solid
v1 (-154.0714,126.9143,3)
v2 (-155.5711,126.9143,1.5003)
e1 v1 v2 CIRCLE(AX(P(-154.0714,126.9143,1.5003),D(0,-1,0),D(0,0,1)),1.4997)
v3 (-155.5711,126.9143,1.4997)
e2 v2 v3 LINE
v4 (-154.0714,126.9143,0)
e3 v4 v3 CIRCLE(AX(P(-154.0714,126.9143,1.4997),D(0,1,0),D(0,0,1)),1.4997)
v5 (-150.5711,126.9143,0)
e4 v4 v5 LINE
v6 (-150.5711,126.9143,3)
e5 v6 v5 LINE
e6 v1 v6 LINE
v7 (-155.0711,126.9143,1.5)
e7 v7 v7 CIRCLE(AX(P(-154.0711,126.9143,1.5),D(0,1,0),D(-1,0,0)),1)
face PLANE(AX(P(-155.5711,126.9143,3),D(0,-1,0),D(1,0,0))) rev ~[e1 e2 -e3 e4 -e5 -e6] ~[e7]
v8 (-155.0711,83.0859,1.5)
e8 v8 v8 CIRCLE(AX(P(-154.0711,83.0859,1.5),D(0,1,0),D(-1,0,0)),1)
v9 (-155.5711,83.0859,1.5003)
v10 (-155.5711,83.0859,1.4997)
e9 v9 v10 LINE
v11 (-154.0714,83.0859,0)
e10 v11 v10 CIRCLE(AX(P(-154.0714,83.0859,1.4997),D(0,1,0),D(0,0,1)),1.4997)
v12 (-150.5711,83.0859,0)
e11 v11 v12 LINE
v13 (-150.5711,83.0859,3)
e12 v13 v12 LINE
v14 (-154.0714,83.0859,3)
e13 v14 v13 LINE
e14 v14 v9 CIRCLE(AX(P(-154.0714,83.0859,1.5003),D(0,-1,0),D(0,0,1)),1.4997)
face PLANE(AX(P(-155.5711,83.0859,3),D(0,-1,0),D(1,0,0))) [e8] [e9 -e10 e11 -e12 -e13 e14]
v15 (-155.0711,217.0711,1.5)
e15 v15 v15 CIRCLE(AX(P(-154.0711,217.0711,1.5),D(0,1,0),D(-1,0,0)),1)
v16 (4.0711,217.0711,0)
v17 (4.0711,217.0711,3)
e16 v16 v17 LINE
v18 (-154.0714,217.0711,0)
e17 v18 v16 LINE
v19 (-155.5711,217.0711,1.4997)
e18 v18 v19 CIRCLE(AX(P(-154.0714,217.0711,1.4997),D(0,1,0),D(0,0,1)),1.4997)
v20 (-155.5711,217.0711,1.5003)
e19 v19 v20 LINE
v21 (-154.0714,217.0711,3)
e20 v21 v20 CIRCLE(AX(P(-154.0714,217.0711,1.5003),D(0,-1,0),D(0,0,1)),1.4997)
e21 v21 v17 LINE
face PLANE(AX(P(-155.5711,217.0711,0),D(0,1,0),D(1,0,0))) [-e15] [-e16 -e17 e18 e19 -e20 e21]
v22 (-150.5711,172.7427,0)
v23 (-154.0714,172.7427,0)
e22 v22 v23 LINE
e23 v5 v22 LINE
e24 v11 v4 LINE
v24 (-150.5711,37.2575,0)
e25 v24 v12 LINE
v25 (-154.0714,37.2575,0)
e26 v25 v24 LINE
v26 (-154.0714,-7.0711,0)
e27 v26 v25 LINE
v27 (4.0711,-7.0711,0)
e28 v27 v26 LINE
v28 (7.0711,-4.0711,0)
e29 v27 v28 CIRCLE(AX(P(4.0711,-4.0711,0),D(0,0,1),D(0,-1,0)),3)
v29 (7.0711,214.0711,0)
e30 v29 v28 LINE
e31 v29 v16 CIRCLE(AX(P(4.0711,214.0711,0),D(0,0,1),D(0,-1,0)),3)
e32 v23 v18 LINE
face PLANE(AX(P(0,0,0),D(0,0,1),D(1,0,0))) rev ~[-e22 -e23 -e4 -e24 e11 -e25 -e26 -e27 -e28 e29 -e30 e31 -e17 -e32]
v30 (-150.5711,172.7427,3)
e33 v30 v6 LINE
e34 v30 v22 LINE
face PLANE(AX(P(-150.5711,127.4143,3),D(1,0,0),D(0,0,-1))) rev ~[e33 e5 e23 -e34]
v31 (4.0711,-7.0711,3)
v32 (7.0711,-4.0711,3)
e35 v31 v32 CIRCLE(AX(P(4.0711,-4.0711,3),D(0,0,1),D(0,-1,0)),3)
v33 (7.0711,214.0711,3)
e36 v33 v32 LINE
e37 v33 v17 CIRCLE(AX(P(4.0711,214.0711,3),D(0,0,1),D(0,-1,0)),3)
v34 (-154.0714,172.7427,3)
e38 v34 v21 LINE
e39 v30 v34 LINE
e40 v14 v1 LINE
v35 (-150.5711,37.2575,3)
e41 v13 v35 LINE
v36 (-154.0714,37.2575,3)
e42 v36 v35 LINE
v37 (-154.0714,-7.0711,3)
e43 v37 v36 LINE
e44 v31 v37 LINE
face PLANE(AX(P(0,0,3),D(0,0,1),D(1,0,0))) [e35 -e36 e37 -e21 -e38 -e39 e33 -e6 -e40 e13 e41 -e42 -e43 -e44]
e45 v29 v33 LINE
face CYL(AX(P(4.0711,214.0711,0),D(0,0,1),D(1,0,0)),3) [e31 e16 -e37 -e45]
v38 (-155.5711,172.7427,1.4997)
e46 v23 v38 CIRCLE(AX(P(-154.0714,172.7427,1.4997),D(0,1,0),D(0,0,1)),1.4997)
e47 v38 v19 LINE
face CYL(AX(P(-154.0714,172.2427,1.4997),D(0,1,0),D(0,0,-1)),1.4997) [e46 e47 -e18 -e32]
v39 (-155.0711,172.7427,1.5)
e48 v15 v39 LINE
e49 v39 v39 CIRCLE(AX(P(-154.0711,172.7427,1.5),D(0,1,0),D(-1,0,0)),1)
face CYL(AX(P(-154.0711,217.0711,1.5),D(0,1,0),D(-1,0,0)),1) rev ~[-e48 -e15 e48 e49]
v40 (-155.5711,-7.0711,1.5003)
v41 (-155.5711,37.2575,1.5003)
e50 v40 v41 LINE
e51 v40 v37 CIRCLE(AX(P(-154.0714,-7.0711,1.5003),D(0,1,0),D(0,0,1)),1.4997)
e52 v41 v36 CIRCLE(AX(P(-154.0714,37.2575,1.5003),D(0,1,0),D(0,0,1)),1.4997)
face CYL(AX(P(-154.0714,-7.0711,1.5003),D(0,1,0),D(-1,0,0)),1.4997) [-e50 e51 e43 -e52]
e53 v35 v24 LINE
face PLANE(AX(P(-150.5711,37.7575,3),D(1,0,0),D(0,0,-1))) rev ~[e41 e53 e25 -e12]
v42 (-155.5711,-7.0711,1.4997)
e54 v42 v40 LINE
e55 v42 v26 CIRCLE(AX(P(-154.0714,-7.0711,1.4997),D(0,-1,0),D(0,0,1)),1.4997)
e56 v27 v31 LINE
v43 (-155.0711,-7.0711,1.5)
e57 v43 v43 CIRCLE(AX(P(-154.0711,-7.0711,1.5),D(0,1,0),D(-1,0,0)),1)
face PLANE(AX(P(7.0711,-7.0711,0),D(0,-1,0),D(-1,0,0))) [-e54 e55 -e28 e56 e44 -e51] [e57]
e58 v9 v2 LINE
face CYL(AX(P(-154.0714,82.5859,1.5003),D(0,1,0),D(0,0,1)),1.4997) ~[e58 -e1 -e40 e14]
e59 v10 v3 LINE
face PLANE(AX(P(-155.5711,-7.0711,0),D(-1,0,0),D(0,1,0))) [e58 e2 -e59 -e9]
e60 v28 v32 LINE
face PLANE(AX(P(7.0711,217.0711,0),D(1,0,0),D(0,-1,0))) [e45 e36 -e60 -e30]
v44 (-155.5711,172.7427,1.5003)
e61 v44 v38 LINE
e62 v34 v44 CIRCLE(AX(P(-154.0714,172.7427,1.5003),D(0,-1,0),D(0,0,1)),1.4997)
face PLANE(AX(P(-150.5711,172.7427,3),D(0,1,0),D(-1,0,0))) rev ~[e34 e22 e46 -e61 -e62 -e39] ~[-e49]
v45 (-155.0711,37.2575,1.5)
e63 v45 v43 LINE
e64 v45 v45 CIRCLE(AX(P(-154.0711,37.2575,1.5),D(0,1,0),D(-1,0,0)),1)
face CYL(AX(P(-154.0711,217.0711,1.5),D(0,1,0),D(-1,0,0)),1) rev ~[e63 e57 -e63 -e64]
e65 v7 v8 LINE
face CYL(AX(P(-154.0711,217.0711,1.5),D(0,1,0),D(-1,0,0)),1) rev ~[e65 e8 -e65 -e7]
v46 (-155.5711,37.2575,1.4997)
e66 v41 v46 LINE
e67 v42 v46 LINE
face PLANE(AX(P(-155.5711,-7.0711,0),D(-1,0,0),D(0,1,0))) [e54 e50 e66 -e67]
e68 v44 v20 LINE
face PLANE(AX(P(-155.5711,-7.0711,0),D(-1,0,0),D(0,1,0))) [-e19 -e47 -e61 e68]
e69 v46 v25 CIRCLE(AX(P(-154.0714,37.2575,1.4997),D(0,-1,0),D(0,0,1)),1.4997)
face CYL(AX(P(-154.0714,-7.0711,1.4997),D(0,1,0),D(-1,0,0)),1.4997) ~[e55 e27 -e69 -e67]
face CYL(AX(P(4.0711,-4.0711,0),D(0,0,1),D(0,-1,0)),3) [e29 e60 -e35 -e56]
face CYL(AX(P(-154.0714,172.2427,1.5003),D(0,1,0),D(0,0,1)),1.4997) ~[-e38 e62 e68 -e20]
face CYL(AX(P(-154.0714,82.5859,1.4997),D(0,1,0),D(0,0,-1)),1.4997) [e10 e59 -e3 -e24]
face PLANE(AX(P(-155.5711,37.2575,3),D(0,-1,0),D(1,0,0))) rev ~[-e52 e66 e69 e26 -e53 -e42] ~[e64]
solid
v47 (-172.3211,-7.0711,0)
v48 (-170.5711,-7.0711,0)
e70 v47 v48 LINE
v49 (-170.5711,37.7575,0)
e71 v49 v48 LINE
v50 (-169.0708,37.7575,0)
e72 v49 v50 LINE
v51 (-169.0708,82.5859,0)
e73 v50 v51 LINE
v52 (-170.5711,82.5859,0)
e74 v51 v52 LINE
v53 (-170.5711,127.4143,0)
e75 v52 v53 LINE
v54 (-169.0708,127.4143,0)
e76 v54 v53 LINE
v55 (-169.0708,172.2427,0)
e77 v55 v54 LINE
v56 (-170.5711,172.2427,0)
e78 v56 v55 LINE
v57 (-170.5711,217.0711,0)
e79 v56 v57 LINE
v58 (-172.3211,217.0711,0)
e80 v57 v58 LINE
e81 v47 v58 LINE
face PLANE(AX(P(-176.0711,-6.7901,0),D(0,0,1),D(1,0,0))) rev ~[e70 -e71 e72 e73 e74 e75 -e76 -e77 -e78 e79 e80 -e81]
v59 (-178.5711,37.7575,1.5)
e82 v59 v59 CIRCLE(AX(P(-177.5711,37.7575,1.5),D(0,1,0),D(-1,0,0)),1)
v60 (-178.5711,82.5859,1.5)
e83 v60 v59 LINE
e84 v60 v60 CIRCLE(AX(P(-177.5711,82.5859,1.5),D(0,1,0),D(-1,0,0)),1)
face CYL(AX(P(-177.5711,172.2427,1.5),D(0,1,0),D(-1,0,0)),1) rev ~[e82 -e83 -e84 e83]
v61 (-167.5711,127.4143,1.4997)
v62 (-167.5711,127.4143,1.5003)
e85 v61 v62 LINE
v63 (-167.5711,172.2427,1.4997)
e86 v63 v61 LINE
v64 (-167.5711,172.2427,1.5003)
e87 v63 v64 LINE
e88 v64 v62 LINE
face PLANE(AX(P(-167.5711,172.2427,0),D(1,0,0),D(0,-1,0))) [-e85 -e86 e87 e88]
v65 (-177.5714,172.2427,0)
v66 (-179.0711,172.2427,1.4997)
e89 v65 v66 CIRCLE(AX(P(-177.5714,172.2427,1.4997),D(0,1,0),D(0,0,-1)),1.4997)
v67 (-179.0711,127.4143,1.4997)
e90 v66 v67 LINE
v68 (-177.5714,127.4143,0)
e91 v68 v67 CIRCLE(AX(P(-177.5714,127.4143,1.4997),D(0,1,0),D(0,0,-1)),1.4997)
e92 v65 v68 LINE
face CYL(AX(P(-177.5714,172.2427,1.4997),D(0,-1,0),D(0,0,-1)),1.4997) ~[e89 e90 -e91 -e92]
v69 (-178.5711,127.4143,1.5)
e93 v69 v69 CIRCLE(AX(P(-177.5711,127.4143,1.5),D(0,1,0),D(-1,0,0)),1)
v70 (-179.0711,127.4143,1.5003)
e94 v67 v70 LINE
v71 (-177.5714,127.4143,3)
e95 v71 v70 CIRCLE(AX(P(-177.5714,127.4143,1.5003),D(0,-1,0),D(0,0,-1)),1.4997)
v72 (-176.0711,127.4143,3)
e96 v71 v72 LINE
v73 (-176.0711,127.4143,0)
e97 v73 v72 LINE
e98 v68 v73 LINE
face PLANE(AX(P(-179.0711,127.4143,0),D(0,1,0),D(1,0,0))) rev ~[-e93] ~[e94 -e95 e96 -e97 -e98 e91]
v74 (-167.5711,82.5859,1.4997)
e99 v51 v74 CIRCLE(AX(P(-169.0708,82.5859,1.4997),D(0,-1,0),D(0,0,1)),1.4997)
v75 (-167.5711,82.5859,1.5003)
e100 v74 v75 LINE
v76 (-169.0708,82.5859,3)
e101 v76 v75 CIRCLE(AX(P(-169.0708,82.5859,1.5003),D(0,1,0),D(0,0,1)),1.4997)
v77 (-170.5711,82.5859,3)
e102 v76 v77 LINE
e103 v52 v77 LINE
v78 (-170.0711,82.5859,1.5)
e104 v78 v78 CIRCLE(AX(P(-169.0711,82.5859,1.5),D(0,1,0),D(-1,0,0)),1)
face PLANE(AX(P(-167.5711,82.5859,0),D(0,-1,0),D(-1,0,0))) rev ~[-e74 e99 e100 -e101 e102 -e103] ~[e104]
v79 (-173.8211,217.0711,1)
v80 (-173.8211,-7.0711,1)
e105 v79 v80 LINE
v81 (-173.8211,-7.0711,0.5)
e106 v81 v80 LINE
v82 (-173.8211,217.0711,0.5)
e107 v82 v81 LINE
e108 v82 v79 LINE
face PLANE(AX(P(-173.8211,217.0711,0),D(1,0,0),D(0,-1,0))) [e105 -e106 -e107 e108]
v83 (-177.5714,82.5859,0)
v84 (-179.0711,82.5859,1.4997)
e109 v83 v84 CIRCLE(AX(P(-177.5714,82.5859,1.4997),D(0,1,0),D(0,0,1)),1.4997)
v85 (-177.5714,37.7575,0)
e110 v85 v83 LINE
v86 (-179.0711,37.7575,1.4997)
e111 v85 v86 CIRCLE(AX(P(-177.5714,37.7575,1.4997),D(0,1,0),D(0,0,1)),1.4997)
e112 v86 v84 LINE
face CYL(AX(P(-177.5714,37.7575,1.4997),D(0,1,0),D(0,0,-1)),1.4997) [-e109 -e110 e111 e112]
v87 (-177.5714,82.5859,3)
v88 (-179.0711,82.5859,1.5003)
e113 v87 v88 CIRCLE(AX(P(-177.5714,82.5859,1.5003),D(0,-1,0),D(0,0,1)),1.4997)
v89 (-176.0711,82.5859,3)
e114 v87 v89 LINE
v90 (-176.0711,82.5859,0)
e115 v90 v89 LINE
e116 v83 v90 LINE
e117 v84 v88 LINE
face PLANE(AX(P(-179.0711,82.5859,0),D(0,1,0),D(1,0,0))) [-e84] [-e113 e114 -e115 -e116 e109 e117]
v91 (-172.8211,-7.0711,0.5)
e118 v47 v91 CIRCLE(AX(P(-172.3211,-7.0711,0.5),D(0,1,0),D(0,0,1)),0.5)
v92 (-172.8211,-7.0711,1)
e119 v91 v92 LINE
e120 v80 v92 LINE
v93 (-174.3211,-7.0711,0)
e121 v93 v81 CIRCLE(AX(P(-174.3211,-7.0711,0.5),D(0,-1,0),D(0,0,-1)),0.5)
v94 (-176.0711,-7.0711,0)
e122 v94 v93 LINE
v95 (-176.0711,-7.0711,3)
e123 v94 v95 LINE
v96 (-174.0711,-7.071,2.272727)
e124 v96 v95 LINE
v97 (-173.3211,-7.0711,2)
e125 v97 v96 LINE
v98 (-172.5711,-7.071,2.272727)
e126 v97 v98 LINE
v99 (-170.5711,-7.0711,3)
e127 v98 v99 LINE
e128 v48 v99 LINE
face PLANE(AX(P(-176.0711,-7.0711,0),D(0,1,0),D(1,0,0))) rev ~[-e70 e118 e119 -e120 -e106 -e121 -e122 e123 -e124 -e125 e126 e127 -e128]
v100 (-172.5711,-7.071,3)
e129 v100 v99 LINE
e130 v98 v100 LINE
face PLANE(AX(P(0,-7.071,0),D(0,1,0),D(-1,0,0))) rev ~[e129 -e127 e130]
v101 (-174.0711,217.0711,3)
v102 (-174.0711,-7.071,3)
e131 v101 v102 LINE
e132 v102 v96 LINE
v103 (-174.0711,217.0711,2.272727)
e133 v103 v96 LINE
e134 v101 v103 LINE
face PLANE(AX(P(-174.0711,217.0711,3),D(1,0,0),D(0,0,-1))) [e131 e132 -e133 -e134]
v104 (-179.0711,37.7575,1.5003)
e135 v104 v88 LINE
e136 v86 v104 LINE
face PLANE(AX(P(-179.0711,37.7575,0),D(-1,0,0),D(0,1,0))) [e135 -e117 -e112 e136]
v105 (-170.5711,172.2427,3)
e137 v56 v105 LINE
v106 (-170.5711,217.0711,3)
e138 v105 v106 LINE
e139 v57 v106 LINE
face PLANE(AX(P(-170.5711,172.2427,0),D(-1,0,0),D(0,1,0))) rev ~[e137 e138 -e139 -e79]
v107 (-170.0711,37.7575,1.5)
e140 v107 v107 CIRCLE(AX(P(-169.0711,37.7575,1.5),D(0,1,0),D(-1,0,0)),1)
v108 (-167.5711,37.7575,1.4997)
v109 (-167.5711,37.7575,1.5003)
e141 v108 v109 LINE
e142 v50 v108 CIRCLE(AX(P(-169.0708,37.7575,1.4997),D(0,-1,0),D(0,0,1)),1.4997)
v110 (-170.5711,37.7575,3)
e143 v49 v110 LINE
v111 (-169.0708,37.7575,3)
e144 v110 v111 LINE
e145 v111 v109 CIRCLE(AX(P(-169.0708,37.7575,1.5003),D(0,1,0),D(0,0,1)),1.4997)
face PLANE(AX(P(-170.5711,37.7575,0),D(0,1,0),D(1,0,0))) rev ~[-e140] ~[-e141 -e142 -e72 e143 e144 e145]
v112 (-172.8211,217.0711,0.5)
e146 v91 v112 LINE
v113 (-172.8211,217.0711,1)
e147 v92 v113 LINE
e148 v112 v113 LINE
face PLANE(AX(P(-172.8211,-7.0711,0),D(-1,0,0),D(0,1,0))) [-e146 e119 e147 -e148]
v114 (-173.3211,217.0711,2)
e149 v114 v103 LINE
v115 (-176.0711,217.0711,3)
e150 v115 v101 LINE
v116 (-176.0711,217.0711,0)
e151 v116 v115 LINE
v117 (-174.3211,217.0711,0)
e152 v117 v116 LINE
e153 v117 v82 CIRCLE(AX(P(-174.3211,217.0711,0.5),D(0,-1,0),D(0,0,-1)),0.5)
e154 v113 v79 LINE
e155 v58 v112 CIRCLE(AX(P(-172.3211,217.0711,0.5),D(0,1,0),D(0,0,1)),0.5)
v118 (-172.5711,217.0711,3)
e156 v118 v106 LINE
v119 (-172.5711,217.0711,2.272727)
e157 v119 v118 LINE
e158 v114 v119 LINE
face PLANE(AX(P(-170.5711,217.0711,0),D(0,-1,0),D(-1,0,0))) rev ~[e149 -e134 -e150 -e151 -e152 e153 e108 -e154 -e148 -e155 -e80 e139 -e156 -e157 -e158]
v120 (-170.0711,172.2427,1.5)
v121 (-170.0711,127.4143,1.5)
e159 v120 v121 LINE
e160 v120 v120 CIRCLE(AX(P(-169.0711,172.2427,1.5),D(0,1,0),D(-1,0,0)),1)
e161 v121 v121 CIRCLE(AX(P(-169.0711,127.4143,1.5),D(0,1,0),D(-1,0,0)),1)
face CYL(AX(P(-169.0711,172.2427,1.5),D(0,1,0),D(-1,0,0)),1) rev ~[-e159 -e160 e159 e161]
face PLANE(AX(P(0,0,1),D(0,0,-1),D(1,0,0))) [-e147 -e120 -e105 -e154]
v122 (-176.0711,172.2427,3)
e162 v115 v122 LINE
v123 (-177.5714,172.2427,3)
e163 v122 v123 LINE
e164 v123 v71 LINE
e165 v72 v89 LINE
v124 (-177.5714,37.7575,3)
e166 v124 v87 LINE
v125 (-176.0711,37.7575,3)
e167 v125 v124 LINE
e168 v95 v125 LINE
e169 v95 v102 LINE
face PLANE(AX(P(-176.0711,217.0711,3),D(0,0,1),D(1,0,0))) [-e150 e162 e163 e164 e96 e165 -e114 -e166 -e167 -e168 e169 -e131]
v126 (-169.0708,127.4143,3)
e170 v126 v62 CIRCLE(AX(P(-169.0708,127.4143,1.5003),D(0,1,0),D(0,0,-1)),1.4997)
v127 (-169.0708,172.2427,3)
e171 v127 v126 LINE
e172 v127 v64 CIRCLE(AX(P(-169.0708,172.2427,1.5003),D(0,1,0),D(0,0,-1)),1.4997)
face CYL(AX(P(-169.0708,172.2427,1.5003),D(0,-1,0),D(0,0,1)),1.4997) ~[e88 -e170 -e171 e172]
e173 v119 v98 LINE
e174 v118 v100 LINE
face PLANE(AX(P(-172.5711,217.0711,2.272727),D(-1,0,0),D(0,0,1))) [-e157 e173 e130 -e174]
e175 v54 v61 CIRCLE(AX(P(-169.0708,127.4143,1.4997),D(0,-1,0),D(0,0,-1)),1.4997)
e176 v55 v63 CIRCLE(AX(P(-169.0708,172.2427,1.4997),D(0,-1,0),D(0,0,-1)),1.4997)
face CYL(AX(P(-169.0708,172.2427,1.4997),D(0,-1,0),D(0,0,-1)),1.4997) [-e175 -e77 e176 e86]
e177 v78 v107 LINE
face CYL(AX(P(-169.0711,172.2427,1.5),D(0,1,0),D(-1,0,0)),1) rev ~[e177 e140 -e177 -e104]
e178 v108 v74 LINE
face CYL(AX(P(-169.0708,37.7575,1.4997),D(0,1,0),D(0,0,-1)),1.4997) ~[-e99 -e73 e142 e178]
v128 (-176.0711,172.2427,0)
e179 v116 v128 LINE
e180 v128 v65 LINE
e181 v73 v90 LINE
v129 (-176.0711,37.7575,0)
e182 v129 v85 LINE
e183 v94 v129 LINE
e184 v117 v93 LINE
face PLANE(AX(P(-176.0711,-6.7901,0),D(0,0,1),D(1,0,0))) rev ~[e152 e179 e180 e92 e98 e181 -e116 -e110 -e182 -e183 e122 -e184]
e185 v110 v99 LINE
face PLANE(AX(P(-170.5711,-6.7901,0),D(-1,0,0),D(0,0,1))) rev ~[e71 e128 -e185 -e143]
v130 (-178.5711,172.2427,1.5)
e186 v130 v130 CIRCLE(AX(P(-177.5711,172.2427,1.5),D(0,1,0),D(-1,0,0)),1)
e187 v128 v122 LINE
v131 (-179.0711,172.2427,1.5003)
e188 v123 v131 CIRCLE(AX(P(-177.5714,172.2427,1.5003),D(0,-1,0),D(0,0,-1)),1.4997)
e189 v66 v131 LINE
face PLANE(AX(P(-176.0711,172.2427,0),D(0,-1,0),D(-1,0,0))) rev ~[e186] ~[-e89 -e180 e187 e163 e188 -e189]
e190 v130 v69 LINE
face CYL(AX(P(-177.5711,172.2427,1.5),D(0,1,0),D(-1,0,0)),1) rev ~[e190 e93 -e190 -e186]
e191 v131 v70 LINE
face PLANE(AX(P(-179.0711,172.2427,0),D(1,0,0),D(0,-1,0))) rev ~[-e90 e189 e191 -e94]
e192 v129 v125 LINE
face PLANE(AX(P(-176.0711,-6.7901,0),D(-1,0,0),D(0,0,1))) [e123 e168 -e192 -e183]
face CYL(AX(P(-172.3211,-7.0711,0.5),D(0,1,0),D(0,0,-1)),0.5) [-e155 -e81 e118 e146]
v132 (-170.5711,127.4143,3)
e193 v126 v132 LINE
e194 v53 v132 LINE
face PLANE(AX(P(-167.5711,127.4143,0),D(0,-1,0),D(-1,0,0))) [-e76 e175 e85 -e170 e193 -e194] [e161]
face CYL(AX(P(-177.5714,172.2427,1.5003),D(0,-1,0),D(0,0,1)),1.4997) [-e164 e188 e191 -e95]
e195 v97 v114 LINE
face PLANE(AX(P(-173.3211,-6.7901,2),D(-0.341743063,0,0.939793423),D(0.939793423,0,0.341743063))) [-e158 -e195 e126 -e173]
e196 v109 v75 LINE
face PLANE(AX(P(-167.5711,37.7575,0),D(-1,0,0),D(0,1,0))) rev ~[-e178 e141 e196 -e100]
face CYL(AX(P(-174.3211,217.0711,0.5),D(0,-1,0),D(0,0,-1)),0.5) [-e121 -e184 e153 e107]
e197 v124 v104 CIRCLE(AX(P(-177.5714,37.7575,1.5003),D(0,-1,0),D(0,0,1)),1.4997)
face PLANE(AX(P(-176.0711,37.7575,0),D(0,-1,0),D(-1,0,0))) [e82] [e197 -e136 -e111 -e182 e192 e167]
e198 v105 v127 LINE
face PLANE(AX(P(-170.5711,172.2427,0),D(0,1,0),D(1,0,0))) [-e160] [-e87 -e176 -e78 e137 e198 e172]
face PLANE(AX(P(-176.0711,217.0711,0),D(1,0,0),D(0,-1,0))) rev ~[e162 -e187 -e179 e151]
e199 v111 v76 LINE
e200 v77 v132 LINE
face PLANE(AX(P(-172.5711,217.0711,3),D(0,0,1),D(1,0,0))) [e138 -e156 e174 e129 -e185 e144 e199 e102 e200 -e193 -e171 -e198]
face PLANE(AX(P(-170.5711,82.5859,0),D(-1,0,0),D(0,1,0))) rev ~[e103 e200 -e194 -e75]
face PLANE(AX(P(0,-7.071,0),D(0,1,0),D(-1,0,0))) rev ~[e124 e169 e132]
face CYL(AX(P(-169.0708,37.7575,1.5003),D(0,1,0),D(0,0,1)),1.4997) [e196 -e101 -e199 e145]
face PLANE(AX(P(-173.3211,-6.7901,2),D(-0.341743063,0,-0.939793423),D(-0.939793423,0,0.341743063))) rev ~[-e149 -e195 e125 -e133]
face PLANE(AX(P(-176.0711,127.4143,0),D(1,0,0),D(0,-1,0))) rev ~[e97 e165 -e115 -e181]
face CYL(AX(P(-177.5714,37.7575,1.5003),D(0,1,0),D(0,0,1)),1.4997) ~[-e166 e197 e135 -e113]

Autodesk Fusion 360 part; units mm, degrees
sketch "Sketch1" plane through (0, 0, 0) normal (0, 0, 1) x (1, 0, 0)
  line L0 (0, 0) -> (-148.5, 0)
  line L1 (-148.5, 0) -> (-148.5, 210)
  line L2 (-148.5, 210) -> (0, 210)
  line L3 (0, 210) -> (0, 0)
  line L4 (0, 0) -> (7.0711, -7.0711)
  line L5 (0, 0) -> (10, 0) construction
  line L6 (-148.5, 210) -> (-155.5711, 217.0711)
  line L7 (-148.5, 210) -> (-138.5, 210) construction
  line L8 (-155.5711, 217.0711) -> (7.0711, 217.0711)
  line L9 (7.0711, 217.0711) -> (7.0711, -7.0711)
  line L10 (7.0711, -7.0711) -> (-155.5711, -7.0711)
  line L11 (-155.5711, -7.0711) -> (-155.5711, 217.0711)
  dimension "d1" = 148.5
  dimension "d2" = 210
  dimension "d3" = 10
  dimension "d4" = 45
  dimension "d5" = 135
  dimension "d6" = 10
extrude "Extrude1" add sketch "Sketch1" along normal blind 3 makes body 1
sketch "Sketch2" plane through (0, 0, 3) normal (0, 0, 1) x (-1, 0, 0)
  line L0 (155.5711, 7.0711) -> (-7.0711, 7.0711)
  line L1 (-7.0711, 7.0711) -> (-7.0711, -217.0711)
  line L2 (-7.0711, -217.0711) -> (155.5711, -217.0711)
  line L3 (155.5711, -217.0711) -> (155.5711, 7.0711)
  line L4 (155.5711, 7.0711) -> (145.5711, 7.0711)
  line L5 (145.5711, 7.0711) -> (145.5711, -217.0709)
  line L6 (145.5711, -217.0709) -> (155.5711, -217.0709)
  line L7 (155.5711, -217.0709) -> (155.5711, 7.0711)
  line L8 (155.5711, -217.0711) -> (150.5711, -217.0711)
  line L9 (150.5711, -217.0711) -> (150.5711, -172.2427)
  line L10 (150.5711, -172.2427) -> (155.5711, -172.2427)
  line L11 (155.5711, -172.2427) -> (155.5711, -217.0711)
  line L12 (150.5711, -172.2427) -> (155.5711, -172.2427)
  line L13 (155.5711, -172.2427) -> (155.5711, -127.4143)
  line L14 (155.5711, -127.4143) -> (150.5711, -127.4143)
  line L15 (150.5711, -127.4143) -> (150.5711, -172.2427)
  line L16 (150.5711, -127.4143) -> (155.5711, -127.4143)
  line L17 (155.5711, -127.4143) -> (155.5711, -82.5859)
  line L18 (155.5711, -82.5859) -> (150.5711, -82.5859)
  line L19 (150.5711, -82.5859) -> (150.5711, -127.4143)
  line L20 (150.5711, -82.5859) -> (155.5711, -82.5859)
  line L21 (155.5711, -82.5859) -> (155.5711, -37.7575)
  line L22 (155.5711, -37.7575) -> (150.5711, -37.7575)
  line L23 (150.5711, -37.7575) -> (150.5711, -82.5859)
  line L24 (150.5711, -37.7575) -> (155.5711, -37.7575)
  line L25 (155.5711, -37.7575) -> (155.5711, 7.0711)
  line L26 (155.5711, 7.0711) -> (150.5711, 7.0711)
  line L27 (150.5711, 7.0711) -> (150.5711, -37.7575)
  dimension "d9" = 10
  dimension "d10" = 224.142
  dimension "d11" = 44.8284
  dimension "d12" = 44.8284
  dimension "d13" = 44.8284
  dimension "d14" = 44.8284
extrude "Extrude2" cut sketch "Sketch2" against normal blind 160 contours L3 L7 L18 L20 L21 L22 L23 L24 | L3 L7 L10 L12 L13 L14 L15 L16 bodies 1
sketch "Sketch3" plane through (0, 0, 0) normal (0, 0, 1) x (1, 0, 0)
  line L0 (-170.5711, 217.0711) -> (-176.0711, 217.0711)
  line L1 (-176.0711, 217.0711) -> (-176.0711, -9.7901)
  line L2 (-176.0711, -9.7901) -> (-170.5711, -9.7901)
  line L3 (-170.5711, -9.7901) -> (-170.5711, 217.0711)
  line L4 (-170.5711, 217.0711) -> (-170.5711, 172.2427)
  line L5 (-170.5711, 127.4143) -> (-170.5711, 82.5859)
  line L6 (-170.5711, 82.5859) -> (-170.5711, 37.7575)
  line L7 (-170.5711, 37.7575) -> (-167.5711, 37.7575)
  line L8 (-167.5711, 37.7575) -> (-167.5711, 82.5859)
  line L9 (-167.5711, 82.5859) -> (-170.5711, 82.5859)
  line L10 (-170.5711, 82.5859) -> (-170.5711, 37.7575)
  line L11 (-176.0711, 172.2427) -> (-179.0711, 172.2427)
  line L12 (-179.0711, 172.2427) -> (-179.0711, 127.4143)
  line L13 (-179.0711, 127.4143) -> (-176.0711, 127.4143)
  line L14 (-176.0711, 127.4143) -> (-176.0711, 172.2427)
  line L15 (-170.5711, 82.5859) -> (-176.0711, 82.5859)
  line L16 (-176.0711, 82.5859) -> (-176.0711, 37.7575)
  line L17 (-176.0711, 37.7575) -> (-170.5711, 37.7575)
  line L18 (-170.5711, 37.7575) -> (-170.5711, 82.5859)
  line L19 (-176.0711, 37.7575) -> (-179.0711, 37.7575)
  line L20 (-179.0711, 37.7575) -> (-179.0711, 82.5859)
  line L21 (-179.0711, 82.5859) -> (-176.0711, 82.5859)
  line L22 (-176.0711, 82.5859) -> (-176.0711, 37.7575)
  line L23 (-170.5711, 172.2427) -> (-167.5711, 172.2427)
  line L24 (-167.5711, 172.2427) -> (-167.5711, 127.4143)
  line L25 (-167.5711, 127.4143) -> (-170.5711, 127.4143)
  line L26 (-170.5711, 127.4143) -> (-170.5711, 172.2427)
  point P0 (-155.5711, 217.0711)
  point P1 (-155.5711, -7.0711)
  dimension "d17" = 15
  dimension "d19" = 5.5
  dimension "d20" = 44.8284
  dimension "d21" = 44.8284
  dimension "d22" = 44.8284
  dimension "d23" = 44.8284
  dimension "d24" = 3
  dimension "d25" = 44.8284
  dimension "d27" = 3
  dimension "d28" = 44.8284
  dimension "d29" = 3
  dimension "d30" = 3
  dimension "d31" = 44.8284
extrude "Extrude3" add sketch "Sketch3" along normal blind 3 separate body makes body 2
fillet "Fillet1" radius 1.5 8 edges at (-179.0711, 60.1717, 0) (-179.0711, 60.1717, 3) (-179.0711, 149.8285, 0) (-179.0711, 149.8285, 3) (-167.5711, 60.1717, 0) (-167.5711, 60.1717, 3) (-167.5711, 149.8285, 0) (-167.5711, 149.8285, 3) on bodies 2
fillet "Fillet2" radius 1.5 6 edges at (-155.5711, 194.6569, 3) (-155.5711, 194.6569, 0) (-155.5711, 105.0001, 0) (-155.5711, 105.0001, 3) (-155.5711, 15.3432, 3) (-155.5711, 15.3432, 0) on bodies 1
sketch "Sketch4" plane through (0, 217.0711, 0) normal (0, 1, 0) x (-1, 0, 0)
  line L0 (170.5711, 0) -> (176.0711, 0)
  line L1 (176.0711, 0) -> (176.0711, 3)
  line L2 (176.0711, 3) -> (170.5711, 3)
  line L3 (170.5711, 3) -> (170.5711, 0)
  line L4 (170.5711, 3) -> (176.0711, 3)
  line L5 (173.3211, 3) -> (173.3211, 2)
  line L6 (173.3211, 2) -> (170.5711, 3)
  line L7 (173.3211, 2) -> (176.0711, 3)
extrude "Extrude4" cut sketch "Sketch4" against normal blind 240 contours L2 L4 L5 L6 | L2 L4 L5 L7 bodies 2
sketch "Sketch5" plane through (0, 0, 0) normal (0, 0, -1) x (1, 0, 0)
  line L0 (-169.0711, -172.2427) -> (-169.0711, -127.4143)
  line L1 (-169.0711, -127.4143) -> (-170.5711, -127.4143)
  line L2 (-170.5711, -127.4143) -> (-170.5711, -82.5859)
  line L3 (-170.5711, -82.5859) -> (-169.0711, -82.5859)
  line L4 (-169.0711, -82.5859) -> (-169.0711, -37.7575)
  line L5 (-169.0711, -37.7575) -> (-170.5711, -37.7575)
  line L6 (-170.5711, -37.7575) -> (-170.5711, 9.7901)
  line L7 (-170.5711, 9.7901) -> (-176.0711, 9.7901)
  line L8 (-176.0711, 9.7901) -> (-176.0711, -37.7575)
  line L9 (-176.0711, -37.7575) -> (-177.5711, -37.7575)
  line L10 (-177.5711, -37.7575) -> (-177.5711, -82.5859)
  line L11 (-177.5711, -82.5859) -> (-176.0711, -82.5859)
  line L12 (-176.0711, -82.5859) -> (-176.0711, -127.4143)
  line L13 (-176.0711, -127.4143) -> (-177.5711, -127.4143)
  line L14 (-177.5711, -127.4143) -> (-177.5711, -172.2427)
  line L15 (-177.5711, -172.2427) -> (-176.0711, -172.2427)
  line L16 (-176.0711, -172.2427) -> (-176.0711, -217.0711)
  line L17 (-176.0711, -217.0711) -> (-170.5711, -217.0711)
  line L18 (-170.5711, -217.0711) -> (-170.5711, -172.2427)
  line L19 (-170.5711, -172.2427) -> (-169.0711, -172.2427)
  line L20 (-170.5711, 9.7901) -> (-176.0711, 9.7901)
  line L21 (-176.0711, 9.7901) -> (-176.0711, -217.0711)
  line L22 (-176.0711, -217.0711) -> (-170.5711, -217.0711)
  line L23 (-170.5711, -217.0711) -> (-170.5711, 9.7901)
  line L24 (-170.5711, 9.7901) -> (-173.3211, 9.7901)
  line L25 (-173.3211, 9.7901) -> (-171.9461, 9.7901)
  line L26 (-176.0711, 9.7901) -> (-173.3211, 9.7901)
  line L27 (-174.6961, 9.7901) -> (-173.3211, 9.7901)
  line L28 (-171.9461, 9.7901) -> (-173.3211, 9.7901)
  line L29 (-171.9461, 9.7901) -> (-171.9461, -217.0711)
  line L30 (-171.9461, -217.0711) -> (-174.6961, -217.0711)
  line L31 (-174.6961, -217.0711) -> (-174.6961, 9.7901)
  line L32 (-174.6961, 9.7901) -> (-171.9461, 9.7901)
  line L33 (-171.9461, 9.7901) -> (-171.9461, -217.0711)
extrude "Extrude9" cut 1 faces at (-173.3211, -9.7901, 0.6667) along direction (0, 1, 0) blind 3 on bodies 2 bodies 2
extrude "Extrude10" add 1 faces at (-173.3211, -6.7901, 0.6667) along direction (0, -1, 0) up to surface (0.281 mm away) on bodies 2 bodies 2
extrude "Extrude11" cut 1 faces at (-152.9046, 172.2427, 1) along direction (0, 1, 0) blind 0.5 on bodies 1 bodies 1
extrude "Extrude12" cut 1 faces at (-152.9046, 127.4143, 2) along direction (0, -1, 0) blind 0.5 on bodies 1 bodies 1
extrude "Extrude13" cut 1 faces at (-152.9046, 37.7575, 2) along direction (0, -1, 0) blind 0.5 on bodies 1 bodies 1
extrude "Extrude14" cut 1 faces at (-152.9046, 82.5859, 2) along direction (0, 1, 0) blind 0.5 on bodies 1 bodies 1
sketch "Sketch9" plane through (0, 217.0711, 0) normal (0, 1, 0) x (-1, 0, 0)
  line L0 (176.0711, 3) -> (173.3211, 2)
  line L1 (173.3211, 2) -> (170.5711, 3)
  line L2 (170.5711, 3) -> (170.5711, 0)
  line L3 (170.5711, 0) -> (176.0711, 0)
  line L4 (176.0711, 0) -> (176.0711, 3)
  line L5 (170.5711, 0) -> (172.5711, 0)
  line L6 (172.5711, 0) -> (172.5711, 3)
  line L7 (172.5711, 3) -> (170.5711, 3)
  line L8 (170.5711, 3) -> (170.5711, 0)
  line L9 (176.0711, 3) -> (174.0711, 3)
  line L10 (174.0711, 3) -> (174.0711, 0)
  line L11 (174.0711, 0) -> (176.0711, 0)
  line L12 (176.0711, 0) -> (176.0711, 3)
  dimension "d76" = 2
  dimension "d77" = 2
extrude "Extrude15" add sketch "Sketch9" against normal up to surface (224.1421 mm away) contours L0 L9 L10 | L1 L6 L7 bodies 2
sketch "Sketch10" plane through (0, 217.0711, 0) normal (0, 1, 0) x (-1, 0, 0)
  arc A0 (154.0711, 0) -> (154.0711, 3) centre (154.0711, 1.5) ccw
  line L0 (154.0711, 3) -> (-7.0711, 3)
  line L1 (-7.0711, 3) -> (-7.0711, 0)
  line L2 (-7.0711, 0) -> (154.0711, 0)
  circle A1 centre (154.0711, 1.5) radius 1
  dimension "d80" = 2
extrude "Extrude16" cut sketch "Sketch10" against normal blind 240 contours A1 bodies 1
sketch "Sketch11" plane through (0, 172.2427, 0) normal (0, 1, 0) x (-1, 0, 0)
  arc A0 (169.0711, 3) -> (169.0711, 0) centre (169.0711, 1.5) ccw
  line L0 (169.0711, 0) -> (170.5711, 0)
  line L1 (170.5711, 0) -> (170.5711, 3)
  line L2 (170.5711, 3) -> (169.0711, 3)
  circle A1 centre (169.0711, 1.5) radius 1
  dimension "d83" = 2
extrude "Extrude17" cut sketch "Sketch11" against normal blind 170 contours A1 bodies 2
sketch "Sketch12" plane through (0, 172.2427, 0) normal (0, 1, 0) x (-1, 0, 0)
  arc A0 (177.5711, 0) -> (177.5711, 3) centre (177.5711, 1.5) ccw
  line L0 (177.5711, 3) -> (176.0711, 3)
  line L1 (176.0711, 3) -> (176.0711, 0)
  line L2 (176.0711, 0) -> (177.5711, 0)
  circle A1 centre (177.5711, 1.5) radius 1
  dimension "d86" = 2
extrude "Extrude18" cut sketch "Sketch12" against normal blind 160 contours A1 bodies 2
fillet "Fillet6" radius 3 2 edges at (7.0711, 217.0711, 1.5) (7.0711, -7.0711, 1.5) on bodies 1
sketch "Sketch13" plane through (0, 0, 0) normal (0, 0, -1) x (1, 0, 0)
  line L0 (-176.0711, 7.0711) -> (-176.0711, -37.7575)
  line L1 (-176.0711, -37.7575) -> (-177.5711, -37.7575)
  line L2 (-177.5711, -37.7575) -> (-177.5711, -82.5859)
  line L3 (-177.5711, -82.5859) -> (-176.0711, -82.5859)
  line L4 (-176.0711, -82.5859) -> (-176.0711, -127.4143)
  line L5 (-176.0711, -127.4143) -> (-177.5711, -127.4143)
  line L6 (-177.5711, -127.4143) -> (-177.5711, -172.2427)
  line L7 (-177.5711, -172.2427) -> (-176.0711, -172.2427)
  line L8 (-176.0711, -172.2427) -> (-176.0711, -217.0711)
  line L9 (-176.0711, -217.0711) -> (-170.5711, -217.0711)
  line L10 (-170.5711, -217.0711) -> (-170.5711, -172.2427)
  line L11 (-170.5711, -172.2427) -> (-169.0711, -172.2427)
  line L12 (-169.0711, -172.2427) -> (-169.0711, -127.4143)
  line L13 (-169.0711, -127.4143) -> (-170.5711, -127.4143)
  line L14 (-170.5711, -127.4143) -> (-170.5711, -82.5859)
  line L15 (-170.5711, -82.5859) -> (-169.0711, -82.5859)
  line L16 (-169.0711, -82.5859) -> (-169.0711, -37.7575)
  line L17 (-169.0711, -37.7575) -> (-170.5711, -37.7575)
  line L18 (-170.5711, -37.7575) -> (-170.5711, 7.0711)
  line L19 (-170.5711, 7.0711) -> (-176.0711, 7.0711)
  line L20 (-173.3211, 7.0711) -> (-173.8211, 7.0711)
  line L21 (-173.3211, -217.0711) -> (-172.8211, -217.0711)
  line L22 (-172.8211, -217.0711) -> (-173.8211, -217.0711)
  line L23 (-173.8211, -217.0711) -> (-173.8211, 7.0711)
  line L24 (-173.8211, 7.0711) -> (-172.8211, 7.0711)
  line L25 (-172.8211, 7.0711) -> (-172.8211, -217.0711)
  dimension "d40" = -1
  dimension "d91" = 0.5
  dimension "d92" = 0.5
extrude "Extrude19" cut sketch "Sketch13" against normal blind 1 contours L9 L19 L20 L21 L22 L23 L24 L25 bodies 2
fillet "Fillet7" radius 0.5 2 edges at (-173.8211, 105, 0) (-172.8211, 105, 0) on bodies 2
